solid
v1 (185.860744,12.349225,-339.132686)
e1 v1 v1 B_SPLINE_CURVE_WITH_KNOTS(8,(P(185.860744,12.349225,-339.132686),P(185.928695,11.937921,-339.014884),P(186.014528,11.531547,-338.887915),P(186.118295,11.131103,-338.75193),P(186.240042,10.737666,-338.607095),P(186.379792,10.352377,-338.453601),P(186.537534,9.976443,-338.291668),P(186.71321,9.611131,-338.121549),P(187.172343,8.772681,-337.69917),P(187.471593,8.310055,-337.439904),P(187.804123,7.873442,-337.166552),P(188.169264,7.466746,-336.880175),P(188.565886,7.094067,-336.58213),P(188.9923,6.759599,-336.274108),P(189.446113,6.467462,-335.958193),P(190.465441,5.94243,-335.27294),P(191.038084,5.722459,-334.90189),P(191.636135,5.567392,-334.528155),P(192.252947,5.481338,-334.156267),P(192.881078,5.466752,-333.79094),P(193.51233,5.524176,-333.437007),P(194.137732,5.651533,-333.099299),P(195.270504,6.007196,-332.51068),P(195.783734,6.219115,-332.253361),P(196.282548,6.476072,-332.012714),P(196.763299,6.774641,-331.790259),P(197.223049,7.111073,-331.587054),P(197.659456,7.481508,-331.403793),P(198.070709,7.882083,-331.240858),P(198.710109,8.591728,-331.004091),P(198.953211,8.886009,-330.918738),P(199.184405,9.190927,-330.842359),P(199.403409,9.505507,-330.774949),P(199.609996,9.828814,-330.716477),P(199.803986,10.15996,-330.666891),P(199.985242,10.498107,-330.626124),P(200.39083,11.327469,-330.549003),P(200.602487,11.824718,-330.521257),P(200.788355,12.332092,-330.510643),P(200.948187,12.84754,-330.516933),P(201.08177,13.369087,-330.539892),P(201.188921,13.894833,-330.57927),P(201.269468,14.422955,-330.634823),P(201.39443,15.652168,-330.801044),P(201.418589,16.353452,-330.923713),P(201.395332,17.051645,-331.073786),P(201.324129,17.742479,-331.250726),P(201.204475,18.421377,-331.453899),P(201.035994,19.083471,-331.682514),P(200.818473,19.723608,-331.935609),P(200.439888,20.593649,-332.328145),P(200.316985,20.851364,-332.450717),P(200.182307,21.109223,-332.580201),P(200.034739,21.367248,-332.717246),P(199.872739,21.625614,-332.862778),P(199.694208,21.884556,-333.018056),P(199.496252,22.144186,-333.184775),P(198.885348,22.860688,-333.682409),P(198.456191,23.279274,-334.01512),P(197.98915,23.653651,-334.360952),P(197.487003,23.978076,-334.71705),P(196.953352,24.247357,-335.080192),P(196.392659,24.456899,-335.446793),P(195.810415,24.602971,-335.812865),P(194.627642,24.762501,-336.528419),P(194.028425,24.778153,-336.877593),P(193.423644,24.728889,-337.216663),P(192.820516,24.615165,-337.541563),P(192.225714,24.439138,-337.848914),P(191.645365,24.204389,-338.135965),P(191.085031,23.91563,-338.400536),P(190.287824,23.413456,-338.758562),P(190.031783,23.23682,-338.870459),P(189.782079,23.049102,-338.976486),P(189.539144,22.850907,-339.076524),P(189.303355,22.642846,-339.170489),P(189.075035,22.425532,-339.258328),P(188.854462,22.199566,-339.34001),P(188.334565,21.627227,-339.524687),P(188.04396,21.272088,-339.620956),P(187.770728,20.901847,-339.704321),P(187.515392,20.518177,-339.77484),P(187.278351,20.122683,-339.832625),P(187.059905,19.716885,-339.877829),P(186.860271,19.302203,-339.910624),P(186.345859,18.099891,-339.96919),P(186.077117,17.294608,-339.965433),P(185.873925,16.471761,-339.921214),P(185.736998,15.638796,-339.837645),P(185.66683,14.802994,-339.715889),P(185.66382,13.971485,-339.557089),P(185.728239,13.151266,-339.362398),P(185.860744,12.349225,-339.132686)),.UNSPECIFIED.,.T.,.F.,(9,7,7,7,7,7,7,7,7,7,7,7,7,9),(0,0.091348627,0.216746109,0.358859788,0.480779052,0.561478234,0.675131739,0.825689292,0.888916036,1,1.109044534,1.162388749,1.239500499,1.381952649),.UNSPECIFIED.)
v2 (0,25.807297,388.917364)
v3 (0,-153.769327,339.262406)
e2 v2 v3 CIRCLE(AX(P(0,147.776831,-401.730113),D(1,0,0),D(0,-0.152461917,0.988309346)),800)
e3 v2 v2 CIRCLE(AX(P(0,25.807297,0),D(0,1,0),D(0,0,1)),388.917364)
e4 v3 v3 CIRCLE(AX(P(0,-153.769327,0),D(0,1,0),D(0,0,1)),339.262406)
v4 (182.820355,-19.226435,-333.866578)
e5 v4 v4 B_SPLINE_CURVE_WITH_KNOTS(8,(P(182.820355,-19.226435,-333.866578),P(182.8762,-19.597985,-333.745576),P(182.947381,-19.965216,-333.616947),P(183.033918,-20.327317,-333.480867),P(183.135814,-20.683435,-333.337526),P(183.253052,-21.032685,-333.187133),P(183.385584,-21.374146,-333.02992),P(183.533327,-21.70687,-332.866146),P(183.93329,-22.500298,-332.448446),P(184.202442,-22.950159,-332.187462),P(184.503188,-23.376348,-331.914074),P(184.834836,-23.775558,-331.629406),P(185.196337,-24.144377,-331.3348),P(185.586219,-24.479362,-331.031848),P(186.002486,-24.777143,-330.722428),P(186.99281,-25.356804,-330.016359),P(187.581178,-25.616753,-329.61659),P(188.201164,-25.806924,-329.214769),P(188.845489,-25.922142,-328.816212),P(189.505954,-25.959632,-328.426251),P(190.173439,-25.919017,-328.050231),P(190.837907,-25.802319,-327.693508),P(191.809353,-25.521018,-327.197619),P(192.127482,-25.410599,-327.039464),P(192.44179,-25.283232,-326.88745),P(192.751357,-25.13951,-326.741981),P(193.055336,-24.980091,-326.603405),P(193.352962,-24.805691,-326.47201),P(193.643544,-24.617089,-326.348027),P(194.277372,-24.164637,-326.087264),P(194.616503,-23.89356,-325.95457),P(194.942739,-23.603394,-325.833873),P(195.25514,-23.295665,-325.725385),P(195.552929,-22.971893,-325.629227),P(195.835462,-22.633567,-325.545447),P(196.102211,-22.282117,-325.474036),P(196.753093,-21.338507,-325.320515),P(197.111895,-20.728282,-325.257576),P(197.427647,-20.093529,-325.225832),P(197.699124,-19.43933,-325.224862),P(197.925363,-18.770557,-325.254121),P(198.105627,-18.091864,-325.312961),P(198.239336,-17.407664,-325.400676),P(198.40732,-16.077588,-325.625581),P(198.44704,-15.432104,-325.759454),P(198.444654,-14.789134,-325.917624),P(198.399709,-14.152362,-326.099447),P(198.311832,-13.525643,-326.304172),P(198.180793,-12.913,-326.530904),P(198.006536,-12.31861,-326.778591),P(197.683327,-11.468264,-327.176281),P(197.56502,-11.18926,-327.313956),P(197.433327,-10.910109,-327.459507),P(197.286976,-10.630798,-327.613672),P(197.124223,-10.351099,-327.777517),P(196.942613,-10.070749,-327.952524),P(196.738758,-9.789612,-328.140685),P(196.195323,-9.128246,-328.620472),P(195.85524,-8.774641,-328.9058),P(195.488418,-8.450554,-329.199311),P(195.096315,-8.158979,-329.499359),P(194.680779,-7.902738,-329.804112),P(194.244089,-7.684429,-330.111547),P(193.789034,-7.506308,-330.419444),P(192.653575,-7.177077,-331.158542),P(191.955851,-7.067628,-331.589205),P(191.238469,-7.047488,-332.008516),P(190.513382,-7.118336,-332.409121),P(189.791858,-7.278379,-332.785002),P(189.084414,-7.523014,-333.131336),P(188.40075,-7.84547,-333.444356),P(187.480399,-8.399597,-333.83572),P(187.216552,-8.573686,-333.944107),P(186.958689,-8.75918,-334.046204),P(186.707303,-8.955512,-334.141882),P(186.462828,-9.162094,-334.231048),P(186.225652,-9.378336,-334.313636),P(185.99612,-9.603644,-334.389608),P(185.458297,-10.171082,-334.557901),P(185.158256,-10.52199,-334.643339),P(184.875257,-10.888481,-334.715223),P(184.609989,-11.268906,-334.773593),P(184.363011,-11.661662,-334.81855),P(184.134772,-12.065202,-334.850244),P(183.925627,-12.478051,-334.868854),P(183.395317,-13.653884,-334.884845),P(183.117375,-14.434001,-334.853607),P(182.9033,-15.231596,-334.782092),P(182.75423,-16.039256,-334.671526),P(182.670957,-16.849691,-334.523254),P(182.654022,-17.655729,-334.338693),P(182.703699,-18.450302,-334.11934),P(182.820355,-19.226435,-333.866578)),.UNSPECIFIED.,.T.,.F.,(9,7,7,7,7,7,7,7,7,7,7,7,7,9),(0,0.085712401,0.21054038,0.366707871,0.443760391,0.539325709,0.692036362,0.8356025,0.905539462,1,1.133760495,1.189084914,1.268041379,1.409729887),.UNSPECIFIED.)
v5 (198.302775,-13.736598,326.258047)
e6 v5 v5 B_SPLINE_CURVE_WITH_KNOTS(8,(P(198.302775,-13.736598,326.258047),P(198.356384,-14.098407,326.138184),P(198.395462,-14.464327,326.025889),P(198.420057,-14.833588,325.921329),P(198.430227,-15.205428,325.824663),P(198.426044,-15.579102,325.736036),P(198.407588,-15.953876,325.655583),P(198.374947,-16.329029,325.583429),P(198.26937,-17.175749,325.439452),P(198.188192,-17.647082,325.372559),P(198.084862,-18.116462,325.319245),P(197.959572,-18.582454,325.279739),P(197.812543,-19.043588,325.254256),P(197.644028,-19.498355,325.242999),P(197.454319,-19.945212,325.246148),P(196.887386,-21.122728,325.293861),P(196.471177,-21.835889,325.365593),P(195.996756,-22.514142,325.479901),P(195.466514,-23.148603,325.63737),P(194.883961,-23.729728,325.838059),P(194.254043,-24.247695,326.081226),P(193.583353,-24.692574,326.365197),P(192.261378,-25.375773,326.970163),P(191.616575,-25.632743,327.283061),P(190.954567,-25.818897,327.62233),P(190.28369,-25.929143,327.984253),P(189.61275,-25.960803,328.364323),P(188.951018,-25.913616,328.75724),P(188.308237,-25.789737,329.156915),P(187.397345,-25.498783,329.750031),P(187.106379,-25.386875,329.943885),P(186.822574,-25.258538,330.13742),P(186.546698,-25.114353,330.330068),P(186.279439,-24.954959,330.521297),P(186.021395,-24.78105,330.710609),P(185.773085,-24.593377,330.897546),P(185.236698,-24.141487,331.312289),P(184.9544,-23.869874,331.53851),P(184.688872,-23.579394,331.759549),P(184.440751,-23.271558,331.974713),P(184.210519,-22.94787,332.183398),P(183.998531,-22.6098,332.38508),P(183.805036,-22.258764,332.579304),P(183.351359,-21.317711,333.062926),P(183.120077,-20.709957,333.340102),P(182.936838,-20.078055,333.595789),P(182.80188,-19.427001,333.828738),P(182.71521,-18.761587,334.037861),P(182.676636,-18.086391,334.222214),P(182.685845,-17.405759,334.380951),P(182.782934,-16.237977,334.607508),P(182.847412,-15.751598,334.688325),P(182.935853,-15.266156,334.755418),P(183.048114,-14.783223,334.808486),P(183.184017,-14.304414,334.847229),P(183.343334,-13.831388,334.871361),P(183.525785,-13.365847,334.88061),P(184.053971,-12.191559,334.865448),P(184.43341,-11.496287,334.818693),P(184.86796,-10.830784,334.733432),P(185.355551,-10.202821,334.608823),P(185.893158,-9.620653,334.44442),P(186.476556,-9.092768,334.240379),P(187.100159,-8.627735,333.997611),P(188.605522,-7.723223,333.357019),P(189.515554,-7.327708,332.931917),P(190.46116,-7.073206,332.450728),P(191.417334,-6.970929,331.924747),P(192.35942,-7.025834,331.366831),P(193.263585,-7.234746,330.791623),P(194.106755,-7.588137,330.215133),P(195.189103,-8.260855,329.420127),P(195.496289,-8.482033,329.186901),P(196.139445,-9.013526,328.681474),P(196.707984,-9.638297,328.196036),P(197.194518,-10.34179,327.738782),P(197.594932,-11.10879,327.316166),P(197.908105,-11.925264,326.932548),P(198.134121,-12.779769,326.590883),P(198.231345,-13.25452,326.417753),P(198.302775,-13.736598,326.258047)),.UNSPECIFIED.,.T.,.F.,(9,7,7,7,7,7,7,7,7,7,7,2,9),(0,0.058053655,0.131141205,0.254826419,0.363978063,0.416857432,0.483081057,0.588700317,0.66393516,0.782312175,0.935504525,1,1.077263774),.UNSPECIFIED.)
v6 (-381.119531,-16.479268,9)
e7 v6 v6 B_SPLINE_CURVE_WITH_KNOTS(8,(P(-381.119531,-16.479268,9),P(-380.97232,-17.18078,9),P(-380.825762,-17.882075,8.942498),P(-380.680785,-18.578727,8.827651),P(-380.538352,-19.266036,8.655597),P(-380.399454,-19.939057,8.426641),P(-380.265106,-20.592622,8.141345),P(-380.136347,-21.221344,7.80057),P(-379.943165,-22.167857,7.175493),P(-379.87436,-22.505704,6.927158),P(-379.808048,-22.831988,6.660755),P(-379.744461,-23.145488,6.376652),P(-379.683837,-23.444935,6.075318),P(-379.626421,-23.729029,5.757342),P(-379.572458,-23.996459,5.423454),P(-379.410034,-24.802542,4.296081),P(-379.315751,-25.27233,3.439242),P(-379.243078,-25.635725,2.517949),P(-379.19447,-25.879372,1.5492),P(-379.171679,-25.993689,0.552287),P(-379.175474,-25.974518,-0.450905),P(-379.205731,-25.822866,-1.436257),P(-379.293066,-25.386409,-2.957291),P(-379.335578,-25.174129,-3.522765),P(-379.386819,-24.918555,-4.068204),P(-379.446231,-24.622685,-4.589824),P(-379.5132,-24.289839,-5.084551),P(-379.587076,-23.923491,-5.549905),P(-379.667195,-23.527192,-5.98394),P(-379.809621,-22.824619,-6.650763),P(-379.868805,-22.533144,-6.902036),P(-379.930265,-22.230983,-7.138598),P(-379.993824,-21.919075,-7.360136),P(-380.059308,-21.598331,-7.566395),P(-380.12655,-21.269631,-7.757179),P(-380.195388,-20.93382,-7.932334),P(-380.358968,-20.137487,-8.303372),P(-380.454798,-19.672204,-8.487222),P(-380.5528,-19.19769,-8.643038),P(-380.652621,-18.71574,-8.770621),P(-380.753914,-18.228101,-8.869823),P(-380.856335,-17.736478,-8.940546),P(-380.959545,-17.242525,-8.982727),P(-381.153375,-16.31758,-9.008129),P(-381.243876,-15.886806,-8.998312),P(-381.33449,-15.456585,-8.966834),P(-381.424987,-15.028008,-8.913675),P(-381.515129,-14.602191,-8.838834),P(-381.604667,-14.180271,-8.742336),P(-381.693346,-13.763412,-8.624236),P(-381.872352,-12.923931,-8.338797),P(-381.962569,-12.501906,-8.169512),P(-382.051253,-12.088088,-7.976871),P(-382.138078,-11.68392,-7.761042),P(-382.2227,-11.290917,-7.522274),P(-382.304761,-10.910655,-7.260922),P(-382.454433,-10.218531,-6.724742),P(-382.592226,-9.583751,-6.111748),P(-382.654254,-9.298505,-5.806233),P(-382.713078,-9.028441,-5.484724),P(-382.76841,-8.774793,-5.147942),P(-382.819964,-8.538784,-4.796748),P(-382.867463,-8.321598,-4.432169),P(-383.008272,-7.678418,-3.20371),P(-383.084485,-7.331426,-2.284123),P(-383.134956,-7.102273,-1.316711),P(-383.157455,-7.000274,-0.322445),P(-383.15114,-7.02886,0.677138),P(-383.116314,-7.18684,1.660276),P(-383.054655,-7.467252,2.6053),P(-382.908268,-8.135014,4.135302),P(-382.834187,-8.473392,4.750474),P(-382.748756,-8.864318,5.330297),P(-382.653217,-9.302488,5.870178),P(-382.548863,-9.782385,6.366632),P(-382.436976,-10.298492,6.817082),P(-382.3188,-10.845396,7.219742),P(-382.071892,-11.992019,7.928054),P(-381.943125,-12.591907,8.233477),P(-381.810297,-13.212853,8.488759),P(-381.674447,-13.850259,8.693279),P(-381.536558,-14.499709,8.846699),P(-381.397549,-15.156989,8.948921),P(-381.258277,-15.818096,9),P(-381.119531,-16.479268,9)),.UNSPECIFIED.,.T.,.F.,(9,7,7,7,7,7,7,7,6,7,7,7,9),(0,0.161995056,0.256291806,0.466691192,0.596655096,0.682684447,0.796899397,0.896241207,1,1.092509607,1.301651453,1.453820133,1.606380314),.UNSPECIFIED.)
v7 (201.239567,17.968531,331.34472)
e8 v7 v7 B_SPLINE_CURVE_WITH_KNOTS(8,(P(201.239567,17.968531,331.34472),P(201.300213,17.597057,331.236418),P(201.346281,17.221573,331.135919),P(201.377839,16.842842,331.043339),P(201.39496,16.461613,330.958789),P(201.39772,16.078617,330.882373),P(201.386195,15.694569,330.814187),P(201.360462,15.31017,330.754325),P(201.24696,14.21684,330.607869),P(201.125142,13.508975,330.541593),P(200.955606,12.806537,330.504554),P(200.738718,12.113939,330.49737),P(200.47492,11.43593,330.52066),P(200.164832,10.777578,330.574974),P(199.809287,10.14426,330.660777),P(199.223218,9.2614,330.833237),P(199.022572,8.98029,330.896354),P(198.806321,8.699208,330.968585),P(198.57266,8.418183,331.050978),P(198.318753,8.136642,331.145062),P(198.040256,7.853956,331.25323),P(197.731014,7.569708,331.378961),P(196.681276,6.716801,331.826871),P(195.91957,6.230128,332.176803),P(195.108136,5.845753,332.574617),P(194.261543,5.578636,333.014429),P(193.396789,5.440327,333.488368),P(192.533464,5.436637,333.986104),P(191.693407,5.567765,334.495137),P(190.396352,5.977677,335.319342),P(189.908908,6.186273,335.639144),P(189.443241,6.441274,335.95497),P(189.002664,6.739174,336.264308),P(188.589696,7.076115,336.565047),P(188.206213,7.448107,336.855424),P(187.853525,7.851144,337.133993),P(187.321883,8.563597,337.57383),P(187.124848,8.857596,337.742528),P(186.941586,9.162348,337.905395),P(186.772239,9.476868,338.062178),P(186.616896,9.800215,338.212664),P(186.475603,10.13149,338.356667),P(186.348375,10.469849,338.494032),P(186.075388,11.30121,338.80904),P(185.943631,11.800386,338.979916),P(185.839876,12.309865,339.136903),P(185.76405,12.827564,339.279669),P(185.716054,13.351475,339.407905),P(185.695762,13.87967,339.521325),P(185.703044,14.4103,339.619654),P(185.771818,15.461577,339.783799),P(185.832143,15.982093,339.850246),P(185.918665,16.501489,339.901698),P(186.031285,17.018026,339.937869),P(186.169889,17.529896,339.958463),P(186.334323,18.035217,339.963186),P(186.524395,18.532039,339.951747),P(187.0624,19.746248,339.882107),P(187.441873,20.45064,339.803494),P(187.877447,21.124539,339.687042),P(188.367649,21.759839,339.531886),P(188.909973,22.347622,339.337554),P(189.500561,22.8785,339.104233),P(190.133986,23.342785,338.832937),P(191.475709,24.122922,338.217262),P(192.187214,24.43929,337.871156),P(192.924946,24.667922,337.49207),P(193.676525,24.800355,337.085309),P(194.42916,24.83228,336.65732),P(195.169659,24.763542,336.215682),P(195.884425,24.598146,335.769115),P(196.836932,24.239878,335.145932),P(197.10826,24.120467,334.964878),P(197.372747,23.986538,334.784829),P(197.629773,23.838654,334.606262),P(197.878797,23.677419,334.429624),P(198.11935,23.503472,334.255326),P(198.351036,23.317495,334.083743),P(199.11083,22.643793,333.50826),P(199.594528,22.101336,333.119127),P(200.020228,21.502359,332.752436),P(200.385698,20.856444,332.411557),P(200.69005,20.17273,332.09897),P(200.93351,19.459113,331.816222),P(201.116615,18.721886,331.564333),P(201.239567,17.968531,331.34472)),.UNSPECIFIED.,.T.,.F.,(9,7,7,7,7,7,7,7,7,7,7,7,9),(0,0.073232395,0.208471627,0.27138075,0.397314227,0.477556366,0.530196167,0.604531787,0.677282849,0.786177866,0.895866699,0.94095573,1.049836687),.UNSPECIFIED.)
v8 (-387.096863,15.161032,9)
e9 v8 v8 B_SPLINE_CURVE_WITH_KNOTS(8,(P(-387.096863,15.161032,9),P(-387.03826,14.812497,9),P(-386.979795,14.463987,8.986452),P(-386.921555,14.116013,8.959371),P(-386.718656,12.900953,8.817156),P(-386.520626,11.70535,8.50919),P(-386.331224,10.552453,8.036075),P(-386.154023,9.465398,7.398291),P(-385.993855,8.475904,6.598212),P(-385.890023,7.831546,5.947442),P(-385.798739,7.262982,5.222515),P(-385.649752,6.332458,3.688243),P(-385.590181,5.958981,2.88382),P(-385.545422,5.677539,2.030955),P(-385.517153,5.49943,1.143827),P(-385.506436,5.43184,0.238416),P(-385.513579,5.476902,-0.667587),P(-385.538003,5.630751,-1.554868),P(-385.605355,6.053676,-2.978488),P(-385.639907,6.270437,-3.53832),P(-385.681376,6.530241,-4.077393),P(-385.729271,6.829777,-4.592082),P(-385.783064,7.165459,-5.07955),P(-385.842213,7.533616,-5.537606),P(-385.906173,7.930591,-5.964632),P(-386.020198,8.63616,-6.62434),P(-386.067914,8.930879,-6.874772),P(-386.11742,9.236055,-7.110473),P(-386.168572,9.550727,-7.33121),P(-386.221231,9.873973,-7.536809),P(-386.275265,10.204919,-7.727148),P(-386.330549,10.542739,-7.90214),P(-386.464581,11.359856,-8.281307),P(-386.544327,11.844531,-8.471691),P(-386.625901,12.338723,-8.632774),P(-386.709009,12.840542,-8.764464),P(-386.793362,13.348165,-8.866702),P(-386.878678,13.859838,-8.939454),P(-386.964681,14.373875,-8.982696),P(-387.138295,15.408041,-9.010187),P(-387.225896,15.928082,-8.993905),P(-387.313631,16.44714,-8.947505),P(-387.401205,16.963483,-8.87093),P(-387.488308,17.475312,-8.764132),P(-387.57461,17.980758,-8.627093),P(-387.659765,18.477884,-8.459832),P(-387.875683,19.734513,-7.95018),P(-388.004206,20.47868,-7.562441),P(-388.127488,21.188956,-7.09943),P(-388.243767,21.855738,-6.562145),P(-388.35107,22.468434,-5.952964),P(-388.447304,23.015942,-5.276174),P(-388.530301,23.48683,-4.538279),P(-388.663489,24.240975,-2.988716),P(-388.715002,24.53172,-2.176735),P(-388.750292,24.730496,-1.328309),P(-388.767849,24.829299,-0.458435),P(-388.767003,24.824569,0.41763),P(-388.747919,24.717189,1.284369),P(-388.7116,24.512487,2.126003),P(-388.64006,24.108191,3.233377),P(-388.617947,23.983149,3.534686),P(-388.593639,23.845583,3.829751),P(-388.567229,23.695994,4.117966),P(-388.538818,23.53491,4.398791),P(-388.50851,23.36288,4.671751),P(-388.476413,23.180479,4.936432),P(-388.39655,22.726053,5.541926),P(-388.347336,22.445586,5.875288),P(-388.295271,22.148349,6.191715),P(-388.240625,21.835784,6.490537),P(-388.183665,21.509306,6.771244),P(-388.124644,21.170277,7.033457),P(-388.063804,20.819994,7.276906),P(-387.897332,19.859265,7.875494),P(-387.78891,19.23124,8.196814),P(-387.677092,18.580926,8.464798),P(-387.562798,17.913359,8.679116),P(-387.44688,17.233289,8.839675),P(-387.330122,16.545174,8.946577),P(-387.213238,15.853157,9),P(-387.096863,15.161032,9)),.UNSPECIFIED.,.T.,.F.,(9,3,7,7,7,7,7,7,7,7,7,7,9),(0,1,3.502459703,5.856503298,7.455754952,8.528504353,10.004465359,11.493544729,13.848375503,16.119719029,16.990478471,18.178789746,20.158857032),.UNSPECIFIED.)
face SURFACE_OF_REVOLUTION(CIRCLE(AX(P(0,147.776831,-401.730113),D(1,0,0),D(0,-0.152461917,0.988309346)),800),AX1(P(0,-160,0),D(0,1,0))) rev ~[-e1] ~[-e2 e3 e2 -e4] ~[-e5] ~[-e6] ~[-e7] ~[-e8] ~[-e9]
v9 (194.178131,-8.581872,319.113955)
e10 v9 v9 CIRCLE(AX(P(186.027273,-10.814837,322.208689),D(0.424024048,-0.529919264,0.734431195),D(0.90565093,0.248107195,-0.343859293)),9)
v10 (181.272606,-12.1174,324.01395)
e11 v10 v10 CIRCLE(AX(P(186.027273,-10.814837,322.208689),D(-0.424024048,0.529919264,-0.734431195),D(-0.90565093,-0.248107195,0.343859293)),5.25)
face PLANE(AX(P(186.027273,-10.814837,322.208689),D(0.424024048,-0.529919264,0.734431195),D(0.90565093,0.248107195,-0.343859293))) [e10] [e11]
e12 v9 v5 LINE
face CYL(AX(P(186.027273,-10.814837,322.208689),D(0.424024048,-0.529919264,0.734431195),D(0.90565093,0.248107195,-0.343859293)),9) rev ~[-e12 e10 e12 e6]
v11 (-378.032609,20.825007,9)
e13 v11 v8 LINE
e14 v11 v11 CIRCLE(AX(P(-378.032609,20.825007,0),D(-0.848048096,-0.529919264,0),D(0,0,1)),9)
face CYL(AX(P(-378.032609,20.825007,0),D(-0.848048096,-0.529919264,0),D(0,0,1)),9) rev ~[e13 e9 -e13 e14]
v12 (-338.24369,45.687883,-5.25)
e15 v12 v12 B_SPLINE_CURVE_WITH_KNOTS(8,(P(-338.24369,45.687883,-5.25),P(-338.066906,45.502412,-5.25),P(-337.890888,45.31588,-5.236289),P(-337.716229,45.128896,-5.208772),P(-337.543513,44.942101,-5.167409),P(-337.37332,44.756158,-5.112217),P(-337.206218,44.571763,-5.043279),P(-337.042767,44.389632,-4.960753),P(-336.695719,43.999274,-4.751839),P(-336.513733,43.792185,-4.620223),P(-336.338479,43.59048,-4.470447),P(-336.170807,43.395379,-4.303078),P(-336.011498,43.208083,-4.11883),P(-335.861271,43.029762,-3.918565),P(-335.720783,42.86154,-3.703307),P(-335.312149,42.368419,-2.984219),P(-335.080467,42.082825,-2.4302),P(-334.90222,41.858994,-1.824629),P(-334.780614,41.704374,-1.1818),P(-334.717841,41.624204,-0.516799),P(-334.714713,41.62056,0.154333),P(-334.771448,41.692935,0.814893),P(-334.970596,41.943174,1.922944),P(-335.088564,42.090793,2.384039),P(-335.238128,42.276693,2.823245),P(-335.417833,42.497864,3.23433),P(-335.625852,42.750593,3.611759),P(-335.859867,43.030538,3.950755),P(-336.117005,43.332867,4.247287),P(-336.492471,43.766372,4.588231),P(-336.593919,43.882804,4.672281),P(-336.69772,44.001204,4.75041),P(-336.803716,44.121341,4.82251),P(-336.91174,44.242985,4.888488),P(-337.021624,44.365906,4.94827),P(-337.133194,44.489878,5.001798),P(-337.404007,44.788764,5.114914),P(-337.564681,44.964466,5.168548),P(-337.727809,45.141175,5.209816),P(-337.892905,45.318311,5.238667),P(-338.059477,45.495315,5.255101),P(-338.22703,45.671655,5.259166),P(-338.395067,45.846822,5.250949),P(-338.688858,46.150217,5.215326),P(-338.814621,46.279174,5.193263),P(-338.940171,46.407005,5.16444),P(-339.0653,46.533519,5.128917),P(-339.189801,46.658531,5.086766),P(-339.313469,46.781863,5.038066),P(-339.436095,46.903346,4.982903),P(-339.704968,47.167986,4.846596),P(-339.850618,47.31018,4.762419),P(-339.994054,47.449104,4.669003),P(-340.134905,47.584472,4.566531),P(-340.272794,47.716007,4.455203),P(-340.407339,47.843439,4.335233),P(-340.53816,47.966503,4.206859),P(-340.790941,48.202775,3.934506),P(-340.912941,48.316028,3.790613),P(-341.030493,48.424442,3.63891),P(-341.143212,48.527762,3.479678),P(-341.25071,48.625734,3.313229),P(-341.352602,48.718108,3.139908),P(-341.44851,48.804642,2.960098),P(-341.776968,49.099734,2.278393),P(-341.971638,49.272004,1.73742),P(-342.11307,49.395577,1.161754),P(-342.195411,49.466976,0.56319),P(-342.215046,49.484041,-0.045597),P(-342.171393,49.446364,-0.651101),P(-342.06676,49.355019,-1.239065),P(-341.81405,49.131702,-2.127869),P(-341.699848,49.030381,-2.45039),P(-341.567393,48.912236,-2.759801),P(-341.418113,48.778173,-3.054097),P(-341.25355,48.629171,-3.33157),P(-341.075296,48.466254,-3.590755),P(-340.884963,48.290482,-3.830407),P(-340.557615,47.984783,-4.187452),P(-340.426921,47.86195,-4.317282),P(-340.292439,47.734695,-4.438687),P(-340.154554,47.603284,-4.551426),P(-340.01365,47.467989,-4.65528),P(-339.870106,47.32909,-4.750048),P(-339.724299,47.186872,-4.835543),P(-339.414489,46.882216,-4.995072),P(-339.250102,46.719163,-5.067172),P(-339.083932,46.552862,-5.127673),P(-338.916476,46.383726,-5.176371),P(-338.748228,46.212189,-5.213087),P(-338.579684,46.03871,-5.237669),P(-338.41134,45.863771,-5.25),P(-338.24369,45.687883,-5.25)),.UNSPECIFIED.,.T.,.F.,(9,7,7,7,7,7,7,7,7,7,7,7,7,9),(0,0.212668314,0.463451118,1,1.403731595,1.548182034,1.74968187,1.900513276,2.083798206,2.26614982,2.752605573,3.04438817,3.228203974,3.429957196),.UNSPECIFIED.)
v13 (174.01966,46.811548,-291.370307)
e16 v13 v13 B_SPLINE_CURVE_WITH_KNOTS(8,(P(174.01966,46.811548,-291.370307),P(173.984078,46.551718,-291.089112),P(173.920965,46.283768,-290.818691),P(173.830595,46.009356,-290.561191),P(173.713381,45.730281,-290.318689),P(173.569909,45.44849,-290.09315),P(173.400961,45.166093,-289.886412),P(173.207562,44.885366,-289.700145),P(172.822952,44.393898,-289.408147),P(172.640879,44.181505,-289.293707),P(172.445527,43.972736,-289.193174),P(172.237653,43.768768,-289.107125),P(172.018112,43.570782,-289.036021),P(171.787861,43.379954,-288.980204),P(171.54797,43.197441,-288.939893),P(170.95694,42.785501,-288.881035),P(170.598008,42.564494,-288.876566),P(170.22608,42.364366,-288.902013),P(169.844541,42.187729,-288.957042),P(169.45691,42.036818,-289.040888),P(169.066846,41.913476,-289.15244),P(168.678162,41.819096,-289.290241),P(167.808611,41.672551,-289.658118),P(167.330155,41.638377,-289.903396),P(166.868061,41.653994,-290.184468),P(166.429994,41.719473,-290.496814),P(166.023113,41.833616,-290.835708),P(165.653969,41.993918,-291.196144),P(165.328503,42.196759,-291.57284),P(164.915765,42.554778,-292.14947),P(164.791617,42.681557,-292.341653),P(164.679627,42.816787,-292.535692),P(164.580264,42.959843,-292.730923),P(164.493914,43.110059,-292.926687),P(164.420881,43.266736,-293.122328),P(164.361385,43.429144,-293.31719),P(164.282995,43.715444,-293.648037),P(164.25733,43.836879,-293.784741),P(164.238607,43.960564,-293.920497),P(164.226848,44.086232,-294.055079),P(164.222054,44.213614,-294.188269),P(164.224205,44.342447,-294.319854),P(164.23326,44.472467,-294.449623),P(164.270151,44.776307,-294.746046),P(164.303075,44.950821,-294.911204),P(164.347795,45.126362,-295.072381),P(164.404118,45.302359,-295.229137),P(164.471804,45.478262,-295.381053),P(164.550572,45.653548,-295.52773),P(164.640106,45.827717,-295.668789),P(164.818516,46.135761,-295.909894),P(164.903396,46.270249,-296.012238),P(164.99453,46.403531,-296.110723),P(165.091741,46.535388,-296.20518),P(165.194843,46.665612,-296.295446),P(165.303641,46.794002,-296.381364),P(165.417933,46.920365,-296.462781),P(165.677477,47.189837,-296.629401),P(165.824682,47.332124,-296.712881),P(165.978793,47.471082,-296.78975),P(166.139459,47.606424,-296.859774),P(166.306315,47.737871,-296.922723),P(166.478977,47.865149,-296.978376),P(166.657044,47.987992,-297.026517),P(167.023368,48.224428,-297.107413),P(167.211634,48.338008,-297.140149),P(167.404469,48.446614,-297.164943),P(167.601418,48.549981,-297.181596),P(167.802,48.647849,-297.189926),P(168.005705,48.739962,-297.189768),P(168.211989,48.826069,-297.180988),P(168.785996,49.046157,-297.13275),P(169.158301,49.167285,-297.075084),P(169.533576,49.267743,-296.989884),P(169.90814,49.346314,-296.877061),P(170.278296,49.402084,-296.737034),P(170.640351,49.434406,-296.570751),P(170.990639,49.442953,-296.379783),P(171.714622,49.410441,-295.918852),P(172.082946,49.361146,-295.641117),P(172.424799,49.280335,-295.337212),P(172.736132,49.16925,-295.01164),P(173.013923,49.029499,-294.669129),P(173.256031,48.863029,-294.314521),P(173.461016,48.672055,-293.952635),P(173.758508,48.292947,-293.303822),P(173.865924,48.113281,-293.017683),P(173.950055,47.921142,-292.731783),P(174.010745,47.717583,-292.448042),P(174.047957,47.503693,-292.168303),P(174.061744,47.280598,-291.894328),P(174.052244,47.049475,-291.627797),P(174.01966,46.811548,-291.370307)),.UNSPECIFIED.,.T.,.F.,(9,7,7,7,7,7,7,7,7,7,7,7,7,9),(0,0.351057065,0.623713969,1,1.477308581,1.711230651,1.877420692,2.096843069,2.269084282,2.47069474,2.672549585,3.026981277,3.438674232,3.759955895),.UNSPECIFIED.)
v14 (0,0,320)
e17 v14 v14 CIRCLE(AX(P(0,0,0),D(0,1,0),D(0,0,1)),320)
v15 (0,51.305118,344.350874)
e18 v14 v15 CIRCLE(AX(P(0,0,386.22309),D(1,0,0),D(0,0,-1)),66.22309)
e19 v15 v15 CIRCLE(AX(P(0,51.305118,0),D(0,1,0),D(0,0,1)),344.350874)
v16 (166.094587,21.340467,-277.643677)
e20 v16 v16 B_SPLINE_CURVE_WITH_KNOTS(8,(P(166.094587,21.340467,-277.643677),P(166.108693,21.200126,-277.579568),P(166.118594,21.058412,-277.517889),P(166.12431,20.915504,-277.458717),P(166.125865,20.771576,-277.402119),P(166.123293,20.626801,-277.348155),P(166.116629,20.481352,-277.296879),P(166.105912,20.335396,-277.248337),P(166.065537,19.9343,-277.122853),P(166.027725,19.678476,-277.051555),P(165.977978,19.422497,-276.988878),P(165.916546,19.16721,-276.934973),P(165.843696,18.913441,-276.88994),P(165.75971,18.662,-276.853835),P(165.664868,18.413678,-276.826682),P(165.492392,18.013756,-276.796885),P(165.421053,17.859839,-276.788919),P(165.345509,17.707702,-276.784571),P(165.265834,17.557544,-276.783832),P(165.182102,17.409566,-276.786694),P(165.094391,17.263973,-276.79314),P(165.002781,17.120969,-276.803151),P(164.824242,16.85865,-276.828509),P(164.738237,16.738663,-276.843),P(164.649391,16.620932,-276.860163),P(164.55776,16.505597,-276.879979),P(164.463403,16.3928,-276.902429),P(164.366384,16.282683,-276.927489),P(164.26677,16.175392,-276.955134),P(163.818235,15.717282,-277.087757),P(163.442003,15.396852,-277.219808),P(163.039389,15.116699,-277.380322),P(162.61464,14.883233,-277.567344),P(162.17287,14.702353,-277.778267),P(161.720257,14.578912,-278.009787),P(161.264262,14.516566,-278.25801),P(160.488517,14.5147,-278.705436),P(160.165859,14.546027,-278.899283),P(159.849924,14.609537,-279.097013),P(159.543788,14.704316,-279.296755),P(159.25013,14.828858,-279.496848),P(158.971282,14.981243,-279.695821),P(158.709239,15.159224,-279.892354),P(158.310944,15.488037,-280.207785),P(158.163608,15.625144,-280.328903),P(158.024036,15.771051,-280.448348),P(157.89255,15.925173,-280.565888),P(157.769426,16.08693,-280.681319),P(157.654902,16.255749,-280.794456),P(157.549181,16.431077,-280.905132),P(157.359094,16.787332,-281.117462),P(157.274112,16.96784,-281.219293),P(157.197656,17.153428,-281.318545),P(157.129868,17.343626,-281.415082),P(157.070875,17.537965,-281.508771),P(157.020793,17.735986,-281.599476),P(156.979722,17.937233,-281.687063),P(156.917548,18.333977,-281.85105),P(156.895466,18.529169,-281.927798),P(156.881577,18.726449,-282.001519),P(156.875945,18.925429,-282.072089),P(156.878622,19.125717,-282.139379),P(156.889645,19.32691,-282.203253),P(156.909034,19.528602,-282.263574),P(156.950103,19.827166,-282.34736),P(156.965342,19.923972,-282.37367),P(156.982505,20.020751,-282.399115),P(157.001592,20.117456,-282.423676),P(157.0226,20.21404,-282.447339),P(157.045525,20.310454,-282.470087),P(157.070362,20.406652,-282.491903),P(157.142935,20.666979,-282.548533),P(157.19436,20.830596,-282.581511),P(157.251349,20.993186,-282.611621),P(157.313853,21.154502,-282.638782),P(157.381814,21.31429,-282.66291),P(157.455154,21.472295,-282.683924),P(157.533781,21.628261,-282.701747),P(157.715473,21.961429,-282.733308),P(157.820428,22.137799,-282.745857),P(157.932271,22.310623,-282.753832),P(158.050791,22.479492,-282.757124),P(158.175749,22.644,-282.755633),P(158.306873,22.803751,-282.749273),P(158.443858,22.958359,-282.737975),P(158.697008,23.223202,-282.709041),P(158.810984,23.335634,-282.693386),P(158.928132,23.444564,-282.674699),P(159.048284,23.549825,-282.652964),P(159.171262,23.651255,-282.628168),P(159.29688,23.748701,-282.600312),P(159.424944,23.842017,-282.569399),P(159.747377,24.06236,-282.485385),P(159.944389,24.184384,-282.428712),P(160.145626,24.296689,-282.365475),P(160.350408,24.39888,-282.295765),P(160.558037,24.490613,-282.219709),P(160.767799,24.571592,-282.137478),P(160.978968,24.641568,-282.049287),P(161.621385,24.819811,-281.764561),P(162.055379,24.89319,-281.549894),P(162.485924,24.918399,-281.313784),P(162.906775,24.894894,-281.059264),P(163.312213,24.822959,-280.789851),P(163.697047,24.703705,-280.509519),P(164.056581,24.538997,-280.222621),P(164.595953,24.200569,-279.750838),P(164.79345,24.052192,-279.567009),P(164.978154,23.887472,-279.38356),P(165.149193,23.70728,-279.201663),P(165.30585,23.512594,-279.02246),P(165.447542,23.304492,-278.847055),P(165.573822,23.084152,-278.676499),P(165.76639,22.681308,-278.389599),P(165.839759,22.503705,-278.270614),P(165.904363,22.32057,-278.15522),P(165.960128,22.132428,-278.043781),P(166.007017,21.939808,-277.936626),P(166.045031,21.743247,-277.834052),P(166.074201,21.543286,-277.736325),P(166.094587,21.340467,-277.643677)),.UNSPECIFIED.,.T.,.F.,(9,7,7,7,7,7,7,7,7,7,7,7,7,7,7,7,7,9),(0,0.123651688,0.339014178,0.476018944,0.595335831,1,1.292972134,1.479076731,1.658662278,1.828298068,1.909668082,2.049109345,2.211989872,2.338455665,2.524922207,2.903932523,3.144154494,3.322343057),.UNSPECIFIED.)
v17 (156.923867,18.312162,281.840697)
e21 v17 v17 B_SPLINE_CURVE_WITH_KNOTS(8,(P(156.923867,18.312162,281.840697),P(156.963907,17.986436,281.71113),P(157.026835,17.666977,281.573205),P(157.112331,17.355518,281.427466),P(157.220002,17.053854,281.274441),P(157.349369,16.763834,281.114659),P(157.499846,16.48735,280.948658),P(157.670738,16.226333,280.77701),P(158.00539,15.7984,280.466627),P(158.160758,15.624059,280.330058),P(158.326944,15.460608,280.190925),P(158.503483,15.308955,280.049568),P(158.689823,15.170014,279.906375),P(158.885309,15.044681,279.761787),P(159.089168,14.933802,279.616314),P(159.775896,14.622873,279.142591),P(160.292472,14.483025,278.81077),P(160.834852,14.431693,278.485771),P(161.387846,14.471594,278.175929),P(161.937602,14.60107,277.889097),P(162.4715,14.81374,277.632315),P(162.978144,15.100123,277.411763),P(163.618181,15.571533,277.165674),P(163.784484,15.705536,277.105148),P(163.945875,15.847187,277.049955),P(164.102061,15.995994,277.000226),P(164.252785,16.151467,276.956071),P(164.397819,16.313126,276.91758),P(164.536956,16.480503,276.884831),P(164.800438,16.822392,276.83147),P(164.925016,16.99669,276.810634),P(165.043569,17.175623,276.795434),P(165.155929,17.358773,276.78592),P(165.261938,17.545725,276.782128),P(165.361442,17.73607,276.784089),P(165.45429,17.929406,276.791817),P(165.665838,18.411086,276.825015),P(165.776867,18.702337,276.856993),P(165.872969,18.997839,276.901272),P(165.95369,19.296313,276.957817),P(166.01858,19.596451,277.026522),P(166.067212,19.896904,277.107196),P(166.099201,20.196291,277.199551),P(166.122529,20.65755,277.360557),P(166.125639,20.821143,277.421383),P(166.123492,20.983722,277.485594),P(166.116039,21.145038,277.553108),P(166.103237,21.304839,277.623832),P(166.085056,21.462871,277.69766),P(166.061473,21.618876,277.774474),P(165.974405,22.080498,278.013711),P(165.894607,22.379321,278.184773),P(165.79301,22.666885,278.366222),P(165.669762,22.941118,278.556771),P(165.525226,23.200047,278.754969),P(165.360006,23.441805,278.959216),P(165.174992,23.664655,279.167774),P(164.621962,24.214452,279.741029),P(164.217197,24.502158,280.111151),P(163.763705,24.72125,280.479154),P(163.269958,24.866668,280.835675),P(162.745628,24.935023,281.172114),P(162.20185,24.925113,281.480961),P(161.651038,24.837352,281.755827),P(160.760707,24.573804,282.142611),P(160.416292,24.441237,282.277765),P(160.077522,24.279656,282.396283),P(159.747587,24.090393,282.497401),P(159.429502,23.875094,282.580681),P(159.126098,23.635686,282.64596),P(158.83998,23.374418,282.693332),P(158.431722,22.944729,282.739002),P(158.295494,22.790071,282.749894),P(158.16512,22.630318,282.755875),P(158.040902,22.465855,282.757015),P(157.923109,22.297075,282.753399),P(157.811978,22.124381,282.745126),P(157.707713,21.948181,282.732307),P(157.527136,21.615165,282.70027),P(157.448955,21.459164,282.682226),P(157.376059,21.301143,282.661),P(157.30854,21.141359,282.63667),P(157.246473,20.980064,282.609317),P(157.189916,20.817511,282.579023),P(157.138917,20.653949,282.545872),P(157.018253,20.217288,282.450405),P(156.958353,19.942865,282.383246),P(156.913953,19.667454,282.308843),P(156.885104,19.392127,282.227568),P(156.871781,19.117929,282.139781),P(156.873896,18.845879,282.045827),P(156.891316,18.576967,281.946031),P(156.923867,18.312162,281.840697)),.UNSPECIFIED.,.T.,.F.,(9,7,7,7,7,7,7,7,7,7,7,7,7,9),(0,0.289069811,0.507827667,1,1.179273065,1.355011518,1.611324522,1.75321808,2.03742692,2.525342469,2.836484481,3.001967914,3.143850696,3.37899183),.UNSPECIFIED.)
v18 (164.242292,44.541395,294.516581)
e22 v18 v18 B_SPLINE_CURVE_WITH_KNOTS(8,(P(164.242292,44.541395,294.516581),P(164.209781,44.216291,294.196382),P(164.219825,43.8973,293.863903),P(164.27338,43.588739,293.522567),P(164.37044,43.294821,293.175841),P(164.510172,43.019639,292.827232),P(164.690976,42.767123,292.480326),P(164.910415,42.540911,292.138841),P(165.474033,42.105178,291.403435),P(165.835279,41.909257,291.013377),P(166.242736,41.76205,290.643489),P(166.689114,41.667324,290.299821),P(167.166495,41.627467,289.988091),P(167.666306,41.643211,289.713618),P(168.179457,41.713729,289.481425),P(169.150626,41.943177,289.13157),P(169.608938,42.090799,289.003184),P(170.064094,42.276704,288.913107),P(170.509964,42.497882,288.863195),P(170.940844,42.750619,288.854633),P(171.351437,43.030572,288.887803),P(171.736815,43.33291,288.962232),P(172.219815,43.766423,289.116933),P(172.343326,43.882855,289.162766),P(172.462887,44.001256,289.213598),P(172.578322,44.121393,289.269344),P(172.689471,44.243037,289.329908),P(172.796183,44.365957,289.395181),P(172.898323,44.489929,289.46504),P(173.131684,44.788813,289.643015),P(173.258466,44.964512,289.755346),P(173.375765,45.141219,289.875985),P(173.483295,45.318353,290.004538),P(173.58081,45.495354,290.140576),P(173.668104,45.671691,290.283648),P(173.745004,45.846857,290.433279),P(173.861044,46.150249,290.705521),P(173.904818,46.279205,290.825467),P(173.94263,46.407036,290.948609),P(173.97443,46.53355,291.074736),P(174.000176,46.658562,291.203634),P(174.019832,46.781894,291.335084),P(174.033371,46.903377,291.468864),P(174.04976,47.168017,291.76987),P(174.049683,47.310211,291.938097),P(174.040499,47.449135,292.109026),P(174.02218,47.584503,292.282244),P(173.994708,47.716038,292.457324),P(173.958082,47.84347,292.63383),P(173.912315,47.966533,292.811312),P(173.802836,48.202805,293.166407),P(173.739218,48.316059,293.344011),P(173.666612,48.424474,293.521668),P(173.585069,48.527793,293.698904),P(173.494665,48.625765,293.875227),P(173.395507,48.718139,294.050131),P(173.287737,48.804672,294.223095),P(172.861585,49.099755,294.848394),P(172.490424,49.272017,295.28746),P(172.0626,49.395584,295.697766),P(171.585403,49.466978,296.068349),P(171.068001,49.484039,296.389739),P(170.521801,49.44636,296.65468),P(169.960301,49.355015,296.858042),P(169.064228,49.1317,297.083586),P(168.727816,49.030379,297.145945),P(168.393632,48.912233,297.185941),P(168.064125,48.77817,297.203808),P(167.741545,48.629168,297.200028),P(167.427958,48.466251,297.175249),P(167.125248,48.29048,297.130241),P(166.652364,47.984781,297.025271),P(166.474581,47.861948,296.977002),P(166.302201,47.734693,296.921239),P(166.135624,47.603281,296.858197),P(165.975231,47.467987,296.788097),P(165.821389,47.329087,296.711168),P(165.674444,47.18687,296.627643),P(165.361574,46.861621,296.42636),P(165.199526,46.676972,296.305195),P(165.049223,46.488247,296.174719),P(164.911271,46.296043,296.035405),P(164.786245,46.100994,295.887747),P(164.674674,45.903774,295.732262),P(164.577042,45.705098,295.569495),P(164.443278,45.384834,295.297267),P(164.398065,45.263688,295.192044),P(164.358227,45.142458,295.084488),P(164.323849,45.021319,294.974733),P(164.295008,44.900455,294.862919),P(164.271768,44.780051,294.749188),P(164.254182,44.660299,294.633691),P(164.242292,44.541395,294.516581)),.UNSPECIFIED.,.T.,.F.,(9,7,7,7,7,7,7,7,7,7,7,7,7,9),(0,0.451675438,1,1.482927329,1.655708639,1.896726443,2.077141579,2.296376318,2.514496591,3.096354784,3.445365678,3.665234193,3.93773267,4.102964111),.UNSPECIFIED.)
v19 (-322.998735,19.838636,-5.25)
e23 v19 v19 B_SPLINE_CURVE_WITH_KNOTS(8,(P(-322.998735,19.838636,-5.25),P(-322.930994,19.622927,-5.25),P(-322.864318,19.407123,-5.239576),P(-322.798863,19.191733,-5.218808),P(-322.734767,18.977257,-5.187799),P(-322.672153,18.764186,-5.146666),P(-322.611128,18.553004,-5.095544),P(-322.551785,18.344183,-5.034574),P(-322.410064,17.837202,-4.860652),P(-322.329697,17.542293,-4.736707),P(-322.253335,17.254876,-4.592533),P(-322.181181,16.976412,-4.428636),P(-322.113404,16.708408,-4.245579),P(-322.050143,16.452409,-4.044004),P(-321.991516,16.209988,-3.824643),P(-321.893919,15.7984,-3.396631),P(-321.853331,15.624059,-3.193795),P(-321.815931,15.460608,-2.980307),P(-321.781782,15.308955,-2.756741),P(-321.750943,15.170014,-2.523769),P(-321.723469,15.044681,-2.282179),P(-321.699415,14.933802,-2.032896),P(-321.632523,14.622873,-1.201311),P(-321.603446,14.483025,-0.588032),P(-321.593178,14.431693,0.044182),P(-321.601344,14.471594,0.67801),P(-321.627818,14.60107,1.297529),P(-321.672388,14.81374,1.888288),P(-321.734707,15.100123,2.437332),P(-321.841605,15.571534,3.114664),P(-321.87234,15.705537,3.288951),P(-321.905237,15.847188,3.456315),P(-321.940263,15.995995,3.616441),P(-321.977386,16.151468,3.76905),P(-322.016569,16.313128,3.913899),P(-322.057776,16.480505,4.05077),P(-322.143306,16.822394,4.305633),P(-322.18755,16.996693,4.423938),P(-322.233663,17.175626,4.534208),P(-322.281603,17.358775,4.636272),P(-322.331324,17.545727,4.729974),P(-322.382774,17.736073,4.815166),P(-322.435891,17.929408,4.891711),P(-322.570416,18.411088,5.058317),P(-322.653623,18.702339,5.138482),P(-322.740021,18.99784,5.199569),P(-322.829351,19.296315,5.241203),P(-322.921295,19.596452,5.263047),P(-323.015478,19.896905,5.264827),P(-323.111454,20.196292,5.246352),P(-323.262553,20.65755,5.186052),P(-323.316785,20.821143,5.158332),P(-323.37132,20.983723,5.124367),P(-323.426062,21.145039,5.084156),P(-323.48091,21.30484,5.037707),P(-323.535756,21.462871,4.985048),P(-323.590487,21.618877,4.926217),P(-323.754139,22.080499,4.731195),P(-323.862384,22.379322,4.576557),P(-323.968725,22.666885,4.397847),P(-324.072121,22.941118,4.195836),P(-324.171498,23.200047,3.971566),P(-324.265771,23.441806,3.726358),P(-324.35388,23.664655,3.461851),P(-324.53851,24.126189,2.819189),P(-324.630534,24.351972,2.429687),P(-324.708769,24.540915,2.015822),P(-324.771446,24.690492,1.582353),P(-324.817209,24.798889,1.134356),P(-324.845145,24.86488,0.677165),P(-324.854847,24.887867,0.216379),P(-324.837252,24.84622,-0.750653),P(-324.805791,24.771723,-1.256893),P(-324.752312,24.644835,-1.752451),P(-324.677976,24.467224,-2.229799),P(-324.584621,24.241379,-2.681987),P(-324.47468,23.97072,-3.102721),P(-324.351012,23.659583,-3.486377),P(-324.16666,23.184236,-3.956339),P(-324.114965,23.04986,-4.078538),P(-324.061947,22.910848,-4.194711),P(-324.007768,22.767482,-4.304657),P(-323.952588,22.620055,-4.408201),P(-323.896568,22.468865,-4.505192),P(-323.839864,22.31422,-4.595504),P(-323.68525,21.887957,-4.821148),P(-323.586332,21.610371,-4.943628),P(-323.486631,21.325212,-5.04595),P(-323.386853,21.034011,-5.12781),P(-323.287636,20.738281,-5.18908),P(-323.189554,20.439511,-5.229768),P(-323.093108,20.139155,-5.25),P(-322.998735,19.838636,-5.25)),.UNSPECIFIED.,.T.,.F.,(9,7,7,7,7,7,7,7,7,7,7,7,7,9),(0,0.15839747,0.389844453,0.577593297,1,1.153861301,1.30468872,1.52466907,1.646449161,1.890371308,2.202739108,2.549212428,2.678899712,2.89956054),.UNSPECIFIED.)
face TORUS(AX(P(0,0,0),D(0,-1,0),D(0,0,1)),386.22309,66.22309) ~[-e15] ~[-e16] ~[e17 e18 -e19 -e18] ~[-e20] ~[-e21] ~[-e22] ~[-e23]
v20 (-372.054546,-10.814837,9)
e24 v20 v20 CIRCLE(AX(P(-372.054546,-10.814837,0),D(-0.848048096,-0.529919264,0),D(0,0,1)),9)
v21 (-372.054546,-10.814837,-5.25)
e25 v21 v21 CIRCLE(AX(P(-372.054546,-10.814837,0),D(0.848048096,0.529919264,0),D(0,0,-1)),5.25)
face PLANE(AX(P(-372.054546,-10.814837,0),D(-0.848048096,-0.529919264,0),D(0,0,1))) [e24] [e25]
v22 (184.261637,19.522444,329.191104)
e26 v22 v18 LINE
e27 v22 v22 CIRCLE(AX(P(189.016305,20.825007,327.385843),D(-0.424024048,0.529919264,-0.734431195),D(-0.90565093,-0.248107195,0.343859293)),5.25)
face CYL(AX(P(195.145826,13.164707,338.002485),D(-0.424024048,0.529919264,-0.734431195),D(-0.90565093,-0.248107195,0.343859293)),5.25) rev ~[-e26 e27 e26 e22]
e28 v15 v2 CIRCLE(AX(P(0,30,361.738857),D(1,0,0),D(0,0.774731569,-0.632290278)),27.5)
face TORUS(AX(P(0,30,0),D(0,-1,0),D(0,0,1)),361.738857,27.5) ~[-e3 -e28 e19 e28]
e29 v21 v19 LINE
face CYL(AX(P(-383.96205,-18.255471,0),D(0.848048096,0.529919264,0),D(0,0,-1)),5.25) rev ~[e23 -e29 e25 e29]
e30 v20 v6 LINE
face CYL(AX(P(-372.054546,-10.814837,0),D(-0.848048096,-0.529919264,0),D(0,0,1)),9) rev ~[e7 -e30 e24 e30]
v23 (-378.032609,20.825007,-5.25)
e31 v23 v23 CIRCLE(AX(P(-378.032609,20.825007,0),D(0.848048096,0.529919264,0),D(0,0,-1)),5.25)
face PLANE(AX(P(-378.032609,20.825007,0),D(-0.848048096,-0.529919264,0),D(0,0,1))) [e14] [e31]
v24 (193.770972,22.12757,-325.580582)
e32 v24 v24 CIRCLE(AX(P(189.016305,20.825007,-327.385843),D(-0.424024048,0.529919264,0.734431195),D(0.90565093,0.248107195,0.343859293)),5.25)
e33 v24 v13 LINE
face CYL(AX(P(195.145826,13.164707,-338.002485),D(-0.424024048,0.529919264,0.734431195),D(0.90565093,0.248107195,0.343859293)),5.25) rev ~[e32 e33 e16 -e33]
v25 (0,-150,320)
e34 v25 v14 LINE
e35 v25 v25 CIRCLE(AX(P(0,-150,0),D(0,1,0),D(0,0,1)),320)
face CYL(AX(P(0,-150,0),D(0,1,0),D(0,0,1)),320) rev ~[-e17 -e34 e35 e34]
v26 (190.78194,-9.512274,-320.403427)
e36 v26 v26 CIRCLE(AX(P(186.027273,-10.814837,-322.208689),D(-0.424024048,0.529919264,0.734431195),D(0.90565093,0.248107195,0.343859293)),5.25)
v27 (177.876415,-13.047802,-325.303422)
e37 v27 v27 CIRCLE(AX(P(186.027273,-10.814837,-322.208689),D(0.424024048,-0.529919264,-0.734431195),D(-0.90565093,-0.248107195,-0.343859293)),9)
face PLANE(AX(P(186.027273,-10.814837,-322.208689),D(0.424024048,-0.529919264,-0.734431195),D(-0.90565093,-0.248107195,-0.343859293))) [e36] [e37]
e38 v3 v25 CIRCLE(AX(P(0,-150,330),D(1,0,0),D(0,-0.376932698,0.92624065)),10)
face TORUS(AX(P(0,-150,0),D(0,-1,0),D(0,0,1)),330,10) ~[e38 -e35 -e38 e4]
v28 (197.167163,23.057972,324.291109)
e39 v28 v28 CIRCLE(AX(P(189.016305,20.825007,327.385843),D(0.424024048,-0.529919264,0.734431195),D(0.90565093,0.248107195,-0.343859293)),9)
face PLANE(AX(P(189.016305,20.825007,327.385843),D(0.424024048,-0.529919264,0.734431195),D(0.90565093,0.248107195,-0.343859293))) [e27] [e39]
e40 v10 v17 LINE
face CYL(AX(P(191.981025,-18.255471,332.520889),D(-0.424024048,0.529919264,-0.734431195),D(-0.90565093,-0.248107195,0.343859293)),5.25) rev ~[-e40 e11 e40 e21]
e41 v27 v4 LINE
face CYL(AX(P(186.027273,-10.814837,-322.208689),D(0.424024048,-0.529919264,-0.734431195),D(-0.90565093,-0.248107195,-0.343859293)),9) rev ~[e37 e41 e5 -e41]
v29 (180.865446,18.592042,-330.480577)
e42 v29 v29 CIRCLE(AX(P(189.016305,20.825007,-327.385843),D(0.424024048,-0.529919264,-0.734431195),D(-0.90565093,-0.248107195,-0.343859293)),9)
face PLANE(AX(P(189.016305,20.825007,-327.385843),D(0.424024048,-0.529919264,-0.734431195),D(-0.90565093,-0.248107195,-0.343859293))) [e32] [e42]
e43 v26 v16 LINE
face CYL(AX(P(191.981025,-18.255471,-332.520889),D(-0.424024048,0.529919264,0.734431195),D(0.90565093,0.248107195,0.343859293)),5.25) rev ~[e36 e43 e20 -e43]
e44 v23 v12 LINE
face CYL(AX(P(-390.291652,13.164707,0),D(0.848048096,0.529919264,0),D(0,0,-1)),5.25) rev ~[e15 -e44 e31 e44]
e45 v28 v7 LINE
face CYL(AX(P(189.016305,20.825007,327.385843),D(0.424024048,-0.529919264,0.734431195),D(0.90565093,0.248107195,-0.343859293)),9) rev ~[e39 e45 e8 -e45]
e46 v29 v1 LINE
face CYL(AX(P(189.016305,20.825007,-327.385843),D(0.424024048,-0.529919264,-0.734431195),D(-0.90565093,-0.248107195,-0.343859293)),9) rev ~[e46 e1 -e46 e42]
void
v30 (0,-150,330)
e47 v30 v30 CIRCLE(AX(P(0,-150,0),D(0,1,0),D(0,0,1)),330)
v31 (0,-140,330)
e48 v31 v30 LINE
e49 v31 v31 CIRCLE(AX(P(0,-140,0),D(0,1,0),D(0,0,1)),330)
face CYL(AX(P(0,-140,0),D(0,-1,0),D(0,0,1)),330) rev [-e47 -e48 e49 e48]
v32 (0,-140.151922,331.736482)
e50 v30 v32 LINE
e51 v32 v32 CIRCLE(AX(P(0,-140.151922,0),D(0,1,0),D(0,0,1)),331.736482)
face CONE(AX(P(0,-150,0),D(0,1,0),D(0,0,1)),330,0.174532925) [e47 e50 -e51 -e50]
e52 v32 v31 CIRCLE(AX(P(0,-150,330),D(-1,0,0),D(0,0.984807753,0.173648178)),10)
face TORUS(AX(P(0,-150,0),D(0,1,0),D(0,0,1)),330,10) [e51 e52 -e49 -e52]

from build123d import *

# Parameters (mm, degrees)
HOLE1_D           = 10.5
HOLE1_DEPTH       = 695.85583999
HOLE1_CBORE_D     = 18
HOLE1_CBORE_DEPTH = 14.041071187
HOLE2_D           = 10.5
HOLE2_DEPTH       = 684.573489476
HOLE2_CBORE_D     = 18
HOLE2_CBORE_DEPTH = 14.455598506
HOLE3_D           = 10.5
HOLE3_DEPTH       = 805.450951732
HOLE3_CBORE_D     = 18
HOLE3_CBORE_DEPTH = 14.455598506
HOLE4_D           = 10.5
HOLE4_DEPTH       = 816.733302246
HOLE4_CBORE_D     = 18
HOLE4_CBORE_DEPTH = 14.041071187
HOLE5_D           = 10.5
HOLE5_DEPTH       = 805.450951732
HOLE5_CBORE_D     = 18
HOLE5_CBORE_DEPTH = 14.455598506
HOLE6_D           = 10.5
HOLE6_DEPTH       = 816.733302246
HOLE6_CBORE_D     = 18
HOLE6_CBORE_DEPTH = 14.041071187


with BuildPart() as part:
    # Sketch1 → Revolve1 (revolve)
    with BuildSketch(Plane(origin=(0, 0, 0), x_dir=(-1, 0, 0), z_dir=(0, 0, -1)), mode=Mode.PRIVATE) as revolve1_sk:
        with BuildLine():
            Line((-320, -150), (-320, 0))
            ThreePointArc((-320, 0), (-326.396652763, 28.395335039), (-344.350873885, 51.305118155))
            ThreePointArc((-344.350873885, 51.305118155), (-375.39529491, 53.86947194), (-388.917363548, 25.807297276))
            ThreePointArc((-388.917363548, 25.807297276), (-369.33551998, -65.431491935), (-339.262406499, -153.769326976))
            ThreePointArc((-339.262406499, -153.769326976), (-328.079591839, -159.813869395), (-320, -150))
        make_face()
        with BuildLine():
            Line((-330, -140), (-330, -150))
            Line((-330, -150), (-331.736481777, -140.15192247))
            ThreePointArc((-331.736481777, -140.15192247), (-330.871557427, -140.038053019), (-330, -140))
        make_face(mode=Mode.SUBTRACT)
    revolve(revolve1_sk.sketch.rotate(Axis((0, -160, 0), (0, 1, 0)), 270), axis=Axis((0, -160, 0), (0, 1, 0)))

    # Hole1
    with Locations(Plane(origin=(-284.343921253, -177.677801793, 0), x_dir=(0, 0, 1), z_dir=(-0.8480480961564313, -0.5299192642331966, 0))):
        with Locations((0, 187.987369502)):
            CounterBoreHole(HOLE1_D / 2, HOLE1_CBORE_D / 2, HOLE1_CBORE_DEPTH, depth=HOLE1_DEPTH)

    # Hole2
    with Locations(Plane(origin=(-274.775945379, -171.699066909, 0), x_dir=(0, 0, 1), z_dir=(-0.8480480961564314, -0.5299192642331965, 0))):
        with Locations((0, 217.987369502)):
            CounterBoreHole(HOLE2_D / 2, HOLE2_CBORE_D / 2, HOLE2_CBORE_DEPTH, depth=HOLE2_DEPTH)

    # Hole3
    with Locations(Plane(origin=(137.387972689, -171.699066909, 237.962949047), x_dir=(0.9056509298020752, 0.24810719470458223, -0.3438592928574992), z_dir=(0.4240240480782156, -0.5299192642331962, 0.7344311949024981))):
        with Locations((63.774961554, 208.449628307)):
            CounterBoreHole(HOLE3_D / 2, HOLE3_CBORE_D / 2, HOLE3_CBORE_DEPTH, depth=HOLE3_DEPTH)

    # Hole4
    with Locations(Plane(origin=(142.171960626, -177.677801793, 246.249059217), x_dir=(0.9056509298020752, 0.24810719470458223, -0.3438592928574992), z_dir=(0.4240240480782156, -0.5299192642331962, 0.7344311949024981))):
        with Locations((54.998082182, 179.762237549)):
            CounterBoreHole(HOLE4_D / 2, HOLE4_CBORE_D / 2, HOLE4_CBORE_DEPTH, depth=HOLE4_DEPTH)

    # Hole5
    with Locations(Plane(origin=(137.387972689, -171.699066909, -237.962949047), x_dir=(-0.905650929802075, -0.2481071947045825, -0.3438592928574996), z_dir=(0.4240240480782161, -0.529919264233196, -0.7344311949024981))):
        with Locations((-63.774961554, 208.449628307)):
            CounterBoreHole(HOLE5_D / 2, HOLE5_CBORE_D / 2, HOLE5_CBORE_DEPTH, depth=HOLE5_DEPTH)

    # Hole6
    with Locations(Plane(origin=(142.171960626, -177.677801793, -246.249059217), x_dir=(-0.905650929802075, -0.2481071947045825, -0.3438592928574996), z_dir=(0.4240240480782161, -0.529919264233196, -0.7344311949024981))):
        with Locations((-54.998082182, 179.762237549)):
            CounterBoreHole(HOLE6_D / 2, HOLE6_CBORE_D / 2, HOLE6_CBORE_DEPTH, depth=HOLE6_DEPTH)


solid = part.part
